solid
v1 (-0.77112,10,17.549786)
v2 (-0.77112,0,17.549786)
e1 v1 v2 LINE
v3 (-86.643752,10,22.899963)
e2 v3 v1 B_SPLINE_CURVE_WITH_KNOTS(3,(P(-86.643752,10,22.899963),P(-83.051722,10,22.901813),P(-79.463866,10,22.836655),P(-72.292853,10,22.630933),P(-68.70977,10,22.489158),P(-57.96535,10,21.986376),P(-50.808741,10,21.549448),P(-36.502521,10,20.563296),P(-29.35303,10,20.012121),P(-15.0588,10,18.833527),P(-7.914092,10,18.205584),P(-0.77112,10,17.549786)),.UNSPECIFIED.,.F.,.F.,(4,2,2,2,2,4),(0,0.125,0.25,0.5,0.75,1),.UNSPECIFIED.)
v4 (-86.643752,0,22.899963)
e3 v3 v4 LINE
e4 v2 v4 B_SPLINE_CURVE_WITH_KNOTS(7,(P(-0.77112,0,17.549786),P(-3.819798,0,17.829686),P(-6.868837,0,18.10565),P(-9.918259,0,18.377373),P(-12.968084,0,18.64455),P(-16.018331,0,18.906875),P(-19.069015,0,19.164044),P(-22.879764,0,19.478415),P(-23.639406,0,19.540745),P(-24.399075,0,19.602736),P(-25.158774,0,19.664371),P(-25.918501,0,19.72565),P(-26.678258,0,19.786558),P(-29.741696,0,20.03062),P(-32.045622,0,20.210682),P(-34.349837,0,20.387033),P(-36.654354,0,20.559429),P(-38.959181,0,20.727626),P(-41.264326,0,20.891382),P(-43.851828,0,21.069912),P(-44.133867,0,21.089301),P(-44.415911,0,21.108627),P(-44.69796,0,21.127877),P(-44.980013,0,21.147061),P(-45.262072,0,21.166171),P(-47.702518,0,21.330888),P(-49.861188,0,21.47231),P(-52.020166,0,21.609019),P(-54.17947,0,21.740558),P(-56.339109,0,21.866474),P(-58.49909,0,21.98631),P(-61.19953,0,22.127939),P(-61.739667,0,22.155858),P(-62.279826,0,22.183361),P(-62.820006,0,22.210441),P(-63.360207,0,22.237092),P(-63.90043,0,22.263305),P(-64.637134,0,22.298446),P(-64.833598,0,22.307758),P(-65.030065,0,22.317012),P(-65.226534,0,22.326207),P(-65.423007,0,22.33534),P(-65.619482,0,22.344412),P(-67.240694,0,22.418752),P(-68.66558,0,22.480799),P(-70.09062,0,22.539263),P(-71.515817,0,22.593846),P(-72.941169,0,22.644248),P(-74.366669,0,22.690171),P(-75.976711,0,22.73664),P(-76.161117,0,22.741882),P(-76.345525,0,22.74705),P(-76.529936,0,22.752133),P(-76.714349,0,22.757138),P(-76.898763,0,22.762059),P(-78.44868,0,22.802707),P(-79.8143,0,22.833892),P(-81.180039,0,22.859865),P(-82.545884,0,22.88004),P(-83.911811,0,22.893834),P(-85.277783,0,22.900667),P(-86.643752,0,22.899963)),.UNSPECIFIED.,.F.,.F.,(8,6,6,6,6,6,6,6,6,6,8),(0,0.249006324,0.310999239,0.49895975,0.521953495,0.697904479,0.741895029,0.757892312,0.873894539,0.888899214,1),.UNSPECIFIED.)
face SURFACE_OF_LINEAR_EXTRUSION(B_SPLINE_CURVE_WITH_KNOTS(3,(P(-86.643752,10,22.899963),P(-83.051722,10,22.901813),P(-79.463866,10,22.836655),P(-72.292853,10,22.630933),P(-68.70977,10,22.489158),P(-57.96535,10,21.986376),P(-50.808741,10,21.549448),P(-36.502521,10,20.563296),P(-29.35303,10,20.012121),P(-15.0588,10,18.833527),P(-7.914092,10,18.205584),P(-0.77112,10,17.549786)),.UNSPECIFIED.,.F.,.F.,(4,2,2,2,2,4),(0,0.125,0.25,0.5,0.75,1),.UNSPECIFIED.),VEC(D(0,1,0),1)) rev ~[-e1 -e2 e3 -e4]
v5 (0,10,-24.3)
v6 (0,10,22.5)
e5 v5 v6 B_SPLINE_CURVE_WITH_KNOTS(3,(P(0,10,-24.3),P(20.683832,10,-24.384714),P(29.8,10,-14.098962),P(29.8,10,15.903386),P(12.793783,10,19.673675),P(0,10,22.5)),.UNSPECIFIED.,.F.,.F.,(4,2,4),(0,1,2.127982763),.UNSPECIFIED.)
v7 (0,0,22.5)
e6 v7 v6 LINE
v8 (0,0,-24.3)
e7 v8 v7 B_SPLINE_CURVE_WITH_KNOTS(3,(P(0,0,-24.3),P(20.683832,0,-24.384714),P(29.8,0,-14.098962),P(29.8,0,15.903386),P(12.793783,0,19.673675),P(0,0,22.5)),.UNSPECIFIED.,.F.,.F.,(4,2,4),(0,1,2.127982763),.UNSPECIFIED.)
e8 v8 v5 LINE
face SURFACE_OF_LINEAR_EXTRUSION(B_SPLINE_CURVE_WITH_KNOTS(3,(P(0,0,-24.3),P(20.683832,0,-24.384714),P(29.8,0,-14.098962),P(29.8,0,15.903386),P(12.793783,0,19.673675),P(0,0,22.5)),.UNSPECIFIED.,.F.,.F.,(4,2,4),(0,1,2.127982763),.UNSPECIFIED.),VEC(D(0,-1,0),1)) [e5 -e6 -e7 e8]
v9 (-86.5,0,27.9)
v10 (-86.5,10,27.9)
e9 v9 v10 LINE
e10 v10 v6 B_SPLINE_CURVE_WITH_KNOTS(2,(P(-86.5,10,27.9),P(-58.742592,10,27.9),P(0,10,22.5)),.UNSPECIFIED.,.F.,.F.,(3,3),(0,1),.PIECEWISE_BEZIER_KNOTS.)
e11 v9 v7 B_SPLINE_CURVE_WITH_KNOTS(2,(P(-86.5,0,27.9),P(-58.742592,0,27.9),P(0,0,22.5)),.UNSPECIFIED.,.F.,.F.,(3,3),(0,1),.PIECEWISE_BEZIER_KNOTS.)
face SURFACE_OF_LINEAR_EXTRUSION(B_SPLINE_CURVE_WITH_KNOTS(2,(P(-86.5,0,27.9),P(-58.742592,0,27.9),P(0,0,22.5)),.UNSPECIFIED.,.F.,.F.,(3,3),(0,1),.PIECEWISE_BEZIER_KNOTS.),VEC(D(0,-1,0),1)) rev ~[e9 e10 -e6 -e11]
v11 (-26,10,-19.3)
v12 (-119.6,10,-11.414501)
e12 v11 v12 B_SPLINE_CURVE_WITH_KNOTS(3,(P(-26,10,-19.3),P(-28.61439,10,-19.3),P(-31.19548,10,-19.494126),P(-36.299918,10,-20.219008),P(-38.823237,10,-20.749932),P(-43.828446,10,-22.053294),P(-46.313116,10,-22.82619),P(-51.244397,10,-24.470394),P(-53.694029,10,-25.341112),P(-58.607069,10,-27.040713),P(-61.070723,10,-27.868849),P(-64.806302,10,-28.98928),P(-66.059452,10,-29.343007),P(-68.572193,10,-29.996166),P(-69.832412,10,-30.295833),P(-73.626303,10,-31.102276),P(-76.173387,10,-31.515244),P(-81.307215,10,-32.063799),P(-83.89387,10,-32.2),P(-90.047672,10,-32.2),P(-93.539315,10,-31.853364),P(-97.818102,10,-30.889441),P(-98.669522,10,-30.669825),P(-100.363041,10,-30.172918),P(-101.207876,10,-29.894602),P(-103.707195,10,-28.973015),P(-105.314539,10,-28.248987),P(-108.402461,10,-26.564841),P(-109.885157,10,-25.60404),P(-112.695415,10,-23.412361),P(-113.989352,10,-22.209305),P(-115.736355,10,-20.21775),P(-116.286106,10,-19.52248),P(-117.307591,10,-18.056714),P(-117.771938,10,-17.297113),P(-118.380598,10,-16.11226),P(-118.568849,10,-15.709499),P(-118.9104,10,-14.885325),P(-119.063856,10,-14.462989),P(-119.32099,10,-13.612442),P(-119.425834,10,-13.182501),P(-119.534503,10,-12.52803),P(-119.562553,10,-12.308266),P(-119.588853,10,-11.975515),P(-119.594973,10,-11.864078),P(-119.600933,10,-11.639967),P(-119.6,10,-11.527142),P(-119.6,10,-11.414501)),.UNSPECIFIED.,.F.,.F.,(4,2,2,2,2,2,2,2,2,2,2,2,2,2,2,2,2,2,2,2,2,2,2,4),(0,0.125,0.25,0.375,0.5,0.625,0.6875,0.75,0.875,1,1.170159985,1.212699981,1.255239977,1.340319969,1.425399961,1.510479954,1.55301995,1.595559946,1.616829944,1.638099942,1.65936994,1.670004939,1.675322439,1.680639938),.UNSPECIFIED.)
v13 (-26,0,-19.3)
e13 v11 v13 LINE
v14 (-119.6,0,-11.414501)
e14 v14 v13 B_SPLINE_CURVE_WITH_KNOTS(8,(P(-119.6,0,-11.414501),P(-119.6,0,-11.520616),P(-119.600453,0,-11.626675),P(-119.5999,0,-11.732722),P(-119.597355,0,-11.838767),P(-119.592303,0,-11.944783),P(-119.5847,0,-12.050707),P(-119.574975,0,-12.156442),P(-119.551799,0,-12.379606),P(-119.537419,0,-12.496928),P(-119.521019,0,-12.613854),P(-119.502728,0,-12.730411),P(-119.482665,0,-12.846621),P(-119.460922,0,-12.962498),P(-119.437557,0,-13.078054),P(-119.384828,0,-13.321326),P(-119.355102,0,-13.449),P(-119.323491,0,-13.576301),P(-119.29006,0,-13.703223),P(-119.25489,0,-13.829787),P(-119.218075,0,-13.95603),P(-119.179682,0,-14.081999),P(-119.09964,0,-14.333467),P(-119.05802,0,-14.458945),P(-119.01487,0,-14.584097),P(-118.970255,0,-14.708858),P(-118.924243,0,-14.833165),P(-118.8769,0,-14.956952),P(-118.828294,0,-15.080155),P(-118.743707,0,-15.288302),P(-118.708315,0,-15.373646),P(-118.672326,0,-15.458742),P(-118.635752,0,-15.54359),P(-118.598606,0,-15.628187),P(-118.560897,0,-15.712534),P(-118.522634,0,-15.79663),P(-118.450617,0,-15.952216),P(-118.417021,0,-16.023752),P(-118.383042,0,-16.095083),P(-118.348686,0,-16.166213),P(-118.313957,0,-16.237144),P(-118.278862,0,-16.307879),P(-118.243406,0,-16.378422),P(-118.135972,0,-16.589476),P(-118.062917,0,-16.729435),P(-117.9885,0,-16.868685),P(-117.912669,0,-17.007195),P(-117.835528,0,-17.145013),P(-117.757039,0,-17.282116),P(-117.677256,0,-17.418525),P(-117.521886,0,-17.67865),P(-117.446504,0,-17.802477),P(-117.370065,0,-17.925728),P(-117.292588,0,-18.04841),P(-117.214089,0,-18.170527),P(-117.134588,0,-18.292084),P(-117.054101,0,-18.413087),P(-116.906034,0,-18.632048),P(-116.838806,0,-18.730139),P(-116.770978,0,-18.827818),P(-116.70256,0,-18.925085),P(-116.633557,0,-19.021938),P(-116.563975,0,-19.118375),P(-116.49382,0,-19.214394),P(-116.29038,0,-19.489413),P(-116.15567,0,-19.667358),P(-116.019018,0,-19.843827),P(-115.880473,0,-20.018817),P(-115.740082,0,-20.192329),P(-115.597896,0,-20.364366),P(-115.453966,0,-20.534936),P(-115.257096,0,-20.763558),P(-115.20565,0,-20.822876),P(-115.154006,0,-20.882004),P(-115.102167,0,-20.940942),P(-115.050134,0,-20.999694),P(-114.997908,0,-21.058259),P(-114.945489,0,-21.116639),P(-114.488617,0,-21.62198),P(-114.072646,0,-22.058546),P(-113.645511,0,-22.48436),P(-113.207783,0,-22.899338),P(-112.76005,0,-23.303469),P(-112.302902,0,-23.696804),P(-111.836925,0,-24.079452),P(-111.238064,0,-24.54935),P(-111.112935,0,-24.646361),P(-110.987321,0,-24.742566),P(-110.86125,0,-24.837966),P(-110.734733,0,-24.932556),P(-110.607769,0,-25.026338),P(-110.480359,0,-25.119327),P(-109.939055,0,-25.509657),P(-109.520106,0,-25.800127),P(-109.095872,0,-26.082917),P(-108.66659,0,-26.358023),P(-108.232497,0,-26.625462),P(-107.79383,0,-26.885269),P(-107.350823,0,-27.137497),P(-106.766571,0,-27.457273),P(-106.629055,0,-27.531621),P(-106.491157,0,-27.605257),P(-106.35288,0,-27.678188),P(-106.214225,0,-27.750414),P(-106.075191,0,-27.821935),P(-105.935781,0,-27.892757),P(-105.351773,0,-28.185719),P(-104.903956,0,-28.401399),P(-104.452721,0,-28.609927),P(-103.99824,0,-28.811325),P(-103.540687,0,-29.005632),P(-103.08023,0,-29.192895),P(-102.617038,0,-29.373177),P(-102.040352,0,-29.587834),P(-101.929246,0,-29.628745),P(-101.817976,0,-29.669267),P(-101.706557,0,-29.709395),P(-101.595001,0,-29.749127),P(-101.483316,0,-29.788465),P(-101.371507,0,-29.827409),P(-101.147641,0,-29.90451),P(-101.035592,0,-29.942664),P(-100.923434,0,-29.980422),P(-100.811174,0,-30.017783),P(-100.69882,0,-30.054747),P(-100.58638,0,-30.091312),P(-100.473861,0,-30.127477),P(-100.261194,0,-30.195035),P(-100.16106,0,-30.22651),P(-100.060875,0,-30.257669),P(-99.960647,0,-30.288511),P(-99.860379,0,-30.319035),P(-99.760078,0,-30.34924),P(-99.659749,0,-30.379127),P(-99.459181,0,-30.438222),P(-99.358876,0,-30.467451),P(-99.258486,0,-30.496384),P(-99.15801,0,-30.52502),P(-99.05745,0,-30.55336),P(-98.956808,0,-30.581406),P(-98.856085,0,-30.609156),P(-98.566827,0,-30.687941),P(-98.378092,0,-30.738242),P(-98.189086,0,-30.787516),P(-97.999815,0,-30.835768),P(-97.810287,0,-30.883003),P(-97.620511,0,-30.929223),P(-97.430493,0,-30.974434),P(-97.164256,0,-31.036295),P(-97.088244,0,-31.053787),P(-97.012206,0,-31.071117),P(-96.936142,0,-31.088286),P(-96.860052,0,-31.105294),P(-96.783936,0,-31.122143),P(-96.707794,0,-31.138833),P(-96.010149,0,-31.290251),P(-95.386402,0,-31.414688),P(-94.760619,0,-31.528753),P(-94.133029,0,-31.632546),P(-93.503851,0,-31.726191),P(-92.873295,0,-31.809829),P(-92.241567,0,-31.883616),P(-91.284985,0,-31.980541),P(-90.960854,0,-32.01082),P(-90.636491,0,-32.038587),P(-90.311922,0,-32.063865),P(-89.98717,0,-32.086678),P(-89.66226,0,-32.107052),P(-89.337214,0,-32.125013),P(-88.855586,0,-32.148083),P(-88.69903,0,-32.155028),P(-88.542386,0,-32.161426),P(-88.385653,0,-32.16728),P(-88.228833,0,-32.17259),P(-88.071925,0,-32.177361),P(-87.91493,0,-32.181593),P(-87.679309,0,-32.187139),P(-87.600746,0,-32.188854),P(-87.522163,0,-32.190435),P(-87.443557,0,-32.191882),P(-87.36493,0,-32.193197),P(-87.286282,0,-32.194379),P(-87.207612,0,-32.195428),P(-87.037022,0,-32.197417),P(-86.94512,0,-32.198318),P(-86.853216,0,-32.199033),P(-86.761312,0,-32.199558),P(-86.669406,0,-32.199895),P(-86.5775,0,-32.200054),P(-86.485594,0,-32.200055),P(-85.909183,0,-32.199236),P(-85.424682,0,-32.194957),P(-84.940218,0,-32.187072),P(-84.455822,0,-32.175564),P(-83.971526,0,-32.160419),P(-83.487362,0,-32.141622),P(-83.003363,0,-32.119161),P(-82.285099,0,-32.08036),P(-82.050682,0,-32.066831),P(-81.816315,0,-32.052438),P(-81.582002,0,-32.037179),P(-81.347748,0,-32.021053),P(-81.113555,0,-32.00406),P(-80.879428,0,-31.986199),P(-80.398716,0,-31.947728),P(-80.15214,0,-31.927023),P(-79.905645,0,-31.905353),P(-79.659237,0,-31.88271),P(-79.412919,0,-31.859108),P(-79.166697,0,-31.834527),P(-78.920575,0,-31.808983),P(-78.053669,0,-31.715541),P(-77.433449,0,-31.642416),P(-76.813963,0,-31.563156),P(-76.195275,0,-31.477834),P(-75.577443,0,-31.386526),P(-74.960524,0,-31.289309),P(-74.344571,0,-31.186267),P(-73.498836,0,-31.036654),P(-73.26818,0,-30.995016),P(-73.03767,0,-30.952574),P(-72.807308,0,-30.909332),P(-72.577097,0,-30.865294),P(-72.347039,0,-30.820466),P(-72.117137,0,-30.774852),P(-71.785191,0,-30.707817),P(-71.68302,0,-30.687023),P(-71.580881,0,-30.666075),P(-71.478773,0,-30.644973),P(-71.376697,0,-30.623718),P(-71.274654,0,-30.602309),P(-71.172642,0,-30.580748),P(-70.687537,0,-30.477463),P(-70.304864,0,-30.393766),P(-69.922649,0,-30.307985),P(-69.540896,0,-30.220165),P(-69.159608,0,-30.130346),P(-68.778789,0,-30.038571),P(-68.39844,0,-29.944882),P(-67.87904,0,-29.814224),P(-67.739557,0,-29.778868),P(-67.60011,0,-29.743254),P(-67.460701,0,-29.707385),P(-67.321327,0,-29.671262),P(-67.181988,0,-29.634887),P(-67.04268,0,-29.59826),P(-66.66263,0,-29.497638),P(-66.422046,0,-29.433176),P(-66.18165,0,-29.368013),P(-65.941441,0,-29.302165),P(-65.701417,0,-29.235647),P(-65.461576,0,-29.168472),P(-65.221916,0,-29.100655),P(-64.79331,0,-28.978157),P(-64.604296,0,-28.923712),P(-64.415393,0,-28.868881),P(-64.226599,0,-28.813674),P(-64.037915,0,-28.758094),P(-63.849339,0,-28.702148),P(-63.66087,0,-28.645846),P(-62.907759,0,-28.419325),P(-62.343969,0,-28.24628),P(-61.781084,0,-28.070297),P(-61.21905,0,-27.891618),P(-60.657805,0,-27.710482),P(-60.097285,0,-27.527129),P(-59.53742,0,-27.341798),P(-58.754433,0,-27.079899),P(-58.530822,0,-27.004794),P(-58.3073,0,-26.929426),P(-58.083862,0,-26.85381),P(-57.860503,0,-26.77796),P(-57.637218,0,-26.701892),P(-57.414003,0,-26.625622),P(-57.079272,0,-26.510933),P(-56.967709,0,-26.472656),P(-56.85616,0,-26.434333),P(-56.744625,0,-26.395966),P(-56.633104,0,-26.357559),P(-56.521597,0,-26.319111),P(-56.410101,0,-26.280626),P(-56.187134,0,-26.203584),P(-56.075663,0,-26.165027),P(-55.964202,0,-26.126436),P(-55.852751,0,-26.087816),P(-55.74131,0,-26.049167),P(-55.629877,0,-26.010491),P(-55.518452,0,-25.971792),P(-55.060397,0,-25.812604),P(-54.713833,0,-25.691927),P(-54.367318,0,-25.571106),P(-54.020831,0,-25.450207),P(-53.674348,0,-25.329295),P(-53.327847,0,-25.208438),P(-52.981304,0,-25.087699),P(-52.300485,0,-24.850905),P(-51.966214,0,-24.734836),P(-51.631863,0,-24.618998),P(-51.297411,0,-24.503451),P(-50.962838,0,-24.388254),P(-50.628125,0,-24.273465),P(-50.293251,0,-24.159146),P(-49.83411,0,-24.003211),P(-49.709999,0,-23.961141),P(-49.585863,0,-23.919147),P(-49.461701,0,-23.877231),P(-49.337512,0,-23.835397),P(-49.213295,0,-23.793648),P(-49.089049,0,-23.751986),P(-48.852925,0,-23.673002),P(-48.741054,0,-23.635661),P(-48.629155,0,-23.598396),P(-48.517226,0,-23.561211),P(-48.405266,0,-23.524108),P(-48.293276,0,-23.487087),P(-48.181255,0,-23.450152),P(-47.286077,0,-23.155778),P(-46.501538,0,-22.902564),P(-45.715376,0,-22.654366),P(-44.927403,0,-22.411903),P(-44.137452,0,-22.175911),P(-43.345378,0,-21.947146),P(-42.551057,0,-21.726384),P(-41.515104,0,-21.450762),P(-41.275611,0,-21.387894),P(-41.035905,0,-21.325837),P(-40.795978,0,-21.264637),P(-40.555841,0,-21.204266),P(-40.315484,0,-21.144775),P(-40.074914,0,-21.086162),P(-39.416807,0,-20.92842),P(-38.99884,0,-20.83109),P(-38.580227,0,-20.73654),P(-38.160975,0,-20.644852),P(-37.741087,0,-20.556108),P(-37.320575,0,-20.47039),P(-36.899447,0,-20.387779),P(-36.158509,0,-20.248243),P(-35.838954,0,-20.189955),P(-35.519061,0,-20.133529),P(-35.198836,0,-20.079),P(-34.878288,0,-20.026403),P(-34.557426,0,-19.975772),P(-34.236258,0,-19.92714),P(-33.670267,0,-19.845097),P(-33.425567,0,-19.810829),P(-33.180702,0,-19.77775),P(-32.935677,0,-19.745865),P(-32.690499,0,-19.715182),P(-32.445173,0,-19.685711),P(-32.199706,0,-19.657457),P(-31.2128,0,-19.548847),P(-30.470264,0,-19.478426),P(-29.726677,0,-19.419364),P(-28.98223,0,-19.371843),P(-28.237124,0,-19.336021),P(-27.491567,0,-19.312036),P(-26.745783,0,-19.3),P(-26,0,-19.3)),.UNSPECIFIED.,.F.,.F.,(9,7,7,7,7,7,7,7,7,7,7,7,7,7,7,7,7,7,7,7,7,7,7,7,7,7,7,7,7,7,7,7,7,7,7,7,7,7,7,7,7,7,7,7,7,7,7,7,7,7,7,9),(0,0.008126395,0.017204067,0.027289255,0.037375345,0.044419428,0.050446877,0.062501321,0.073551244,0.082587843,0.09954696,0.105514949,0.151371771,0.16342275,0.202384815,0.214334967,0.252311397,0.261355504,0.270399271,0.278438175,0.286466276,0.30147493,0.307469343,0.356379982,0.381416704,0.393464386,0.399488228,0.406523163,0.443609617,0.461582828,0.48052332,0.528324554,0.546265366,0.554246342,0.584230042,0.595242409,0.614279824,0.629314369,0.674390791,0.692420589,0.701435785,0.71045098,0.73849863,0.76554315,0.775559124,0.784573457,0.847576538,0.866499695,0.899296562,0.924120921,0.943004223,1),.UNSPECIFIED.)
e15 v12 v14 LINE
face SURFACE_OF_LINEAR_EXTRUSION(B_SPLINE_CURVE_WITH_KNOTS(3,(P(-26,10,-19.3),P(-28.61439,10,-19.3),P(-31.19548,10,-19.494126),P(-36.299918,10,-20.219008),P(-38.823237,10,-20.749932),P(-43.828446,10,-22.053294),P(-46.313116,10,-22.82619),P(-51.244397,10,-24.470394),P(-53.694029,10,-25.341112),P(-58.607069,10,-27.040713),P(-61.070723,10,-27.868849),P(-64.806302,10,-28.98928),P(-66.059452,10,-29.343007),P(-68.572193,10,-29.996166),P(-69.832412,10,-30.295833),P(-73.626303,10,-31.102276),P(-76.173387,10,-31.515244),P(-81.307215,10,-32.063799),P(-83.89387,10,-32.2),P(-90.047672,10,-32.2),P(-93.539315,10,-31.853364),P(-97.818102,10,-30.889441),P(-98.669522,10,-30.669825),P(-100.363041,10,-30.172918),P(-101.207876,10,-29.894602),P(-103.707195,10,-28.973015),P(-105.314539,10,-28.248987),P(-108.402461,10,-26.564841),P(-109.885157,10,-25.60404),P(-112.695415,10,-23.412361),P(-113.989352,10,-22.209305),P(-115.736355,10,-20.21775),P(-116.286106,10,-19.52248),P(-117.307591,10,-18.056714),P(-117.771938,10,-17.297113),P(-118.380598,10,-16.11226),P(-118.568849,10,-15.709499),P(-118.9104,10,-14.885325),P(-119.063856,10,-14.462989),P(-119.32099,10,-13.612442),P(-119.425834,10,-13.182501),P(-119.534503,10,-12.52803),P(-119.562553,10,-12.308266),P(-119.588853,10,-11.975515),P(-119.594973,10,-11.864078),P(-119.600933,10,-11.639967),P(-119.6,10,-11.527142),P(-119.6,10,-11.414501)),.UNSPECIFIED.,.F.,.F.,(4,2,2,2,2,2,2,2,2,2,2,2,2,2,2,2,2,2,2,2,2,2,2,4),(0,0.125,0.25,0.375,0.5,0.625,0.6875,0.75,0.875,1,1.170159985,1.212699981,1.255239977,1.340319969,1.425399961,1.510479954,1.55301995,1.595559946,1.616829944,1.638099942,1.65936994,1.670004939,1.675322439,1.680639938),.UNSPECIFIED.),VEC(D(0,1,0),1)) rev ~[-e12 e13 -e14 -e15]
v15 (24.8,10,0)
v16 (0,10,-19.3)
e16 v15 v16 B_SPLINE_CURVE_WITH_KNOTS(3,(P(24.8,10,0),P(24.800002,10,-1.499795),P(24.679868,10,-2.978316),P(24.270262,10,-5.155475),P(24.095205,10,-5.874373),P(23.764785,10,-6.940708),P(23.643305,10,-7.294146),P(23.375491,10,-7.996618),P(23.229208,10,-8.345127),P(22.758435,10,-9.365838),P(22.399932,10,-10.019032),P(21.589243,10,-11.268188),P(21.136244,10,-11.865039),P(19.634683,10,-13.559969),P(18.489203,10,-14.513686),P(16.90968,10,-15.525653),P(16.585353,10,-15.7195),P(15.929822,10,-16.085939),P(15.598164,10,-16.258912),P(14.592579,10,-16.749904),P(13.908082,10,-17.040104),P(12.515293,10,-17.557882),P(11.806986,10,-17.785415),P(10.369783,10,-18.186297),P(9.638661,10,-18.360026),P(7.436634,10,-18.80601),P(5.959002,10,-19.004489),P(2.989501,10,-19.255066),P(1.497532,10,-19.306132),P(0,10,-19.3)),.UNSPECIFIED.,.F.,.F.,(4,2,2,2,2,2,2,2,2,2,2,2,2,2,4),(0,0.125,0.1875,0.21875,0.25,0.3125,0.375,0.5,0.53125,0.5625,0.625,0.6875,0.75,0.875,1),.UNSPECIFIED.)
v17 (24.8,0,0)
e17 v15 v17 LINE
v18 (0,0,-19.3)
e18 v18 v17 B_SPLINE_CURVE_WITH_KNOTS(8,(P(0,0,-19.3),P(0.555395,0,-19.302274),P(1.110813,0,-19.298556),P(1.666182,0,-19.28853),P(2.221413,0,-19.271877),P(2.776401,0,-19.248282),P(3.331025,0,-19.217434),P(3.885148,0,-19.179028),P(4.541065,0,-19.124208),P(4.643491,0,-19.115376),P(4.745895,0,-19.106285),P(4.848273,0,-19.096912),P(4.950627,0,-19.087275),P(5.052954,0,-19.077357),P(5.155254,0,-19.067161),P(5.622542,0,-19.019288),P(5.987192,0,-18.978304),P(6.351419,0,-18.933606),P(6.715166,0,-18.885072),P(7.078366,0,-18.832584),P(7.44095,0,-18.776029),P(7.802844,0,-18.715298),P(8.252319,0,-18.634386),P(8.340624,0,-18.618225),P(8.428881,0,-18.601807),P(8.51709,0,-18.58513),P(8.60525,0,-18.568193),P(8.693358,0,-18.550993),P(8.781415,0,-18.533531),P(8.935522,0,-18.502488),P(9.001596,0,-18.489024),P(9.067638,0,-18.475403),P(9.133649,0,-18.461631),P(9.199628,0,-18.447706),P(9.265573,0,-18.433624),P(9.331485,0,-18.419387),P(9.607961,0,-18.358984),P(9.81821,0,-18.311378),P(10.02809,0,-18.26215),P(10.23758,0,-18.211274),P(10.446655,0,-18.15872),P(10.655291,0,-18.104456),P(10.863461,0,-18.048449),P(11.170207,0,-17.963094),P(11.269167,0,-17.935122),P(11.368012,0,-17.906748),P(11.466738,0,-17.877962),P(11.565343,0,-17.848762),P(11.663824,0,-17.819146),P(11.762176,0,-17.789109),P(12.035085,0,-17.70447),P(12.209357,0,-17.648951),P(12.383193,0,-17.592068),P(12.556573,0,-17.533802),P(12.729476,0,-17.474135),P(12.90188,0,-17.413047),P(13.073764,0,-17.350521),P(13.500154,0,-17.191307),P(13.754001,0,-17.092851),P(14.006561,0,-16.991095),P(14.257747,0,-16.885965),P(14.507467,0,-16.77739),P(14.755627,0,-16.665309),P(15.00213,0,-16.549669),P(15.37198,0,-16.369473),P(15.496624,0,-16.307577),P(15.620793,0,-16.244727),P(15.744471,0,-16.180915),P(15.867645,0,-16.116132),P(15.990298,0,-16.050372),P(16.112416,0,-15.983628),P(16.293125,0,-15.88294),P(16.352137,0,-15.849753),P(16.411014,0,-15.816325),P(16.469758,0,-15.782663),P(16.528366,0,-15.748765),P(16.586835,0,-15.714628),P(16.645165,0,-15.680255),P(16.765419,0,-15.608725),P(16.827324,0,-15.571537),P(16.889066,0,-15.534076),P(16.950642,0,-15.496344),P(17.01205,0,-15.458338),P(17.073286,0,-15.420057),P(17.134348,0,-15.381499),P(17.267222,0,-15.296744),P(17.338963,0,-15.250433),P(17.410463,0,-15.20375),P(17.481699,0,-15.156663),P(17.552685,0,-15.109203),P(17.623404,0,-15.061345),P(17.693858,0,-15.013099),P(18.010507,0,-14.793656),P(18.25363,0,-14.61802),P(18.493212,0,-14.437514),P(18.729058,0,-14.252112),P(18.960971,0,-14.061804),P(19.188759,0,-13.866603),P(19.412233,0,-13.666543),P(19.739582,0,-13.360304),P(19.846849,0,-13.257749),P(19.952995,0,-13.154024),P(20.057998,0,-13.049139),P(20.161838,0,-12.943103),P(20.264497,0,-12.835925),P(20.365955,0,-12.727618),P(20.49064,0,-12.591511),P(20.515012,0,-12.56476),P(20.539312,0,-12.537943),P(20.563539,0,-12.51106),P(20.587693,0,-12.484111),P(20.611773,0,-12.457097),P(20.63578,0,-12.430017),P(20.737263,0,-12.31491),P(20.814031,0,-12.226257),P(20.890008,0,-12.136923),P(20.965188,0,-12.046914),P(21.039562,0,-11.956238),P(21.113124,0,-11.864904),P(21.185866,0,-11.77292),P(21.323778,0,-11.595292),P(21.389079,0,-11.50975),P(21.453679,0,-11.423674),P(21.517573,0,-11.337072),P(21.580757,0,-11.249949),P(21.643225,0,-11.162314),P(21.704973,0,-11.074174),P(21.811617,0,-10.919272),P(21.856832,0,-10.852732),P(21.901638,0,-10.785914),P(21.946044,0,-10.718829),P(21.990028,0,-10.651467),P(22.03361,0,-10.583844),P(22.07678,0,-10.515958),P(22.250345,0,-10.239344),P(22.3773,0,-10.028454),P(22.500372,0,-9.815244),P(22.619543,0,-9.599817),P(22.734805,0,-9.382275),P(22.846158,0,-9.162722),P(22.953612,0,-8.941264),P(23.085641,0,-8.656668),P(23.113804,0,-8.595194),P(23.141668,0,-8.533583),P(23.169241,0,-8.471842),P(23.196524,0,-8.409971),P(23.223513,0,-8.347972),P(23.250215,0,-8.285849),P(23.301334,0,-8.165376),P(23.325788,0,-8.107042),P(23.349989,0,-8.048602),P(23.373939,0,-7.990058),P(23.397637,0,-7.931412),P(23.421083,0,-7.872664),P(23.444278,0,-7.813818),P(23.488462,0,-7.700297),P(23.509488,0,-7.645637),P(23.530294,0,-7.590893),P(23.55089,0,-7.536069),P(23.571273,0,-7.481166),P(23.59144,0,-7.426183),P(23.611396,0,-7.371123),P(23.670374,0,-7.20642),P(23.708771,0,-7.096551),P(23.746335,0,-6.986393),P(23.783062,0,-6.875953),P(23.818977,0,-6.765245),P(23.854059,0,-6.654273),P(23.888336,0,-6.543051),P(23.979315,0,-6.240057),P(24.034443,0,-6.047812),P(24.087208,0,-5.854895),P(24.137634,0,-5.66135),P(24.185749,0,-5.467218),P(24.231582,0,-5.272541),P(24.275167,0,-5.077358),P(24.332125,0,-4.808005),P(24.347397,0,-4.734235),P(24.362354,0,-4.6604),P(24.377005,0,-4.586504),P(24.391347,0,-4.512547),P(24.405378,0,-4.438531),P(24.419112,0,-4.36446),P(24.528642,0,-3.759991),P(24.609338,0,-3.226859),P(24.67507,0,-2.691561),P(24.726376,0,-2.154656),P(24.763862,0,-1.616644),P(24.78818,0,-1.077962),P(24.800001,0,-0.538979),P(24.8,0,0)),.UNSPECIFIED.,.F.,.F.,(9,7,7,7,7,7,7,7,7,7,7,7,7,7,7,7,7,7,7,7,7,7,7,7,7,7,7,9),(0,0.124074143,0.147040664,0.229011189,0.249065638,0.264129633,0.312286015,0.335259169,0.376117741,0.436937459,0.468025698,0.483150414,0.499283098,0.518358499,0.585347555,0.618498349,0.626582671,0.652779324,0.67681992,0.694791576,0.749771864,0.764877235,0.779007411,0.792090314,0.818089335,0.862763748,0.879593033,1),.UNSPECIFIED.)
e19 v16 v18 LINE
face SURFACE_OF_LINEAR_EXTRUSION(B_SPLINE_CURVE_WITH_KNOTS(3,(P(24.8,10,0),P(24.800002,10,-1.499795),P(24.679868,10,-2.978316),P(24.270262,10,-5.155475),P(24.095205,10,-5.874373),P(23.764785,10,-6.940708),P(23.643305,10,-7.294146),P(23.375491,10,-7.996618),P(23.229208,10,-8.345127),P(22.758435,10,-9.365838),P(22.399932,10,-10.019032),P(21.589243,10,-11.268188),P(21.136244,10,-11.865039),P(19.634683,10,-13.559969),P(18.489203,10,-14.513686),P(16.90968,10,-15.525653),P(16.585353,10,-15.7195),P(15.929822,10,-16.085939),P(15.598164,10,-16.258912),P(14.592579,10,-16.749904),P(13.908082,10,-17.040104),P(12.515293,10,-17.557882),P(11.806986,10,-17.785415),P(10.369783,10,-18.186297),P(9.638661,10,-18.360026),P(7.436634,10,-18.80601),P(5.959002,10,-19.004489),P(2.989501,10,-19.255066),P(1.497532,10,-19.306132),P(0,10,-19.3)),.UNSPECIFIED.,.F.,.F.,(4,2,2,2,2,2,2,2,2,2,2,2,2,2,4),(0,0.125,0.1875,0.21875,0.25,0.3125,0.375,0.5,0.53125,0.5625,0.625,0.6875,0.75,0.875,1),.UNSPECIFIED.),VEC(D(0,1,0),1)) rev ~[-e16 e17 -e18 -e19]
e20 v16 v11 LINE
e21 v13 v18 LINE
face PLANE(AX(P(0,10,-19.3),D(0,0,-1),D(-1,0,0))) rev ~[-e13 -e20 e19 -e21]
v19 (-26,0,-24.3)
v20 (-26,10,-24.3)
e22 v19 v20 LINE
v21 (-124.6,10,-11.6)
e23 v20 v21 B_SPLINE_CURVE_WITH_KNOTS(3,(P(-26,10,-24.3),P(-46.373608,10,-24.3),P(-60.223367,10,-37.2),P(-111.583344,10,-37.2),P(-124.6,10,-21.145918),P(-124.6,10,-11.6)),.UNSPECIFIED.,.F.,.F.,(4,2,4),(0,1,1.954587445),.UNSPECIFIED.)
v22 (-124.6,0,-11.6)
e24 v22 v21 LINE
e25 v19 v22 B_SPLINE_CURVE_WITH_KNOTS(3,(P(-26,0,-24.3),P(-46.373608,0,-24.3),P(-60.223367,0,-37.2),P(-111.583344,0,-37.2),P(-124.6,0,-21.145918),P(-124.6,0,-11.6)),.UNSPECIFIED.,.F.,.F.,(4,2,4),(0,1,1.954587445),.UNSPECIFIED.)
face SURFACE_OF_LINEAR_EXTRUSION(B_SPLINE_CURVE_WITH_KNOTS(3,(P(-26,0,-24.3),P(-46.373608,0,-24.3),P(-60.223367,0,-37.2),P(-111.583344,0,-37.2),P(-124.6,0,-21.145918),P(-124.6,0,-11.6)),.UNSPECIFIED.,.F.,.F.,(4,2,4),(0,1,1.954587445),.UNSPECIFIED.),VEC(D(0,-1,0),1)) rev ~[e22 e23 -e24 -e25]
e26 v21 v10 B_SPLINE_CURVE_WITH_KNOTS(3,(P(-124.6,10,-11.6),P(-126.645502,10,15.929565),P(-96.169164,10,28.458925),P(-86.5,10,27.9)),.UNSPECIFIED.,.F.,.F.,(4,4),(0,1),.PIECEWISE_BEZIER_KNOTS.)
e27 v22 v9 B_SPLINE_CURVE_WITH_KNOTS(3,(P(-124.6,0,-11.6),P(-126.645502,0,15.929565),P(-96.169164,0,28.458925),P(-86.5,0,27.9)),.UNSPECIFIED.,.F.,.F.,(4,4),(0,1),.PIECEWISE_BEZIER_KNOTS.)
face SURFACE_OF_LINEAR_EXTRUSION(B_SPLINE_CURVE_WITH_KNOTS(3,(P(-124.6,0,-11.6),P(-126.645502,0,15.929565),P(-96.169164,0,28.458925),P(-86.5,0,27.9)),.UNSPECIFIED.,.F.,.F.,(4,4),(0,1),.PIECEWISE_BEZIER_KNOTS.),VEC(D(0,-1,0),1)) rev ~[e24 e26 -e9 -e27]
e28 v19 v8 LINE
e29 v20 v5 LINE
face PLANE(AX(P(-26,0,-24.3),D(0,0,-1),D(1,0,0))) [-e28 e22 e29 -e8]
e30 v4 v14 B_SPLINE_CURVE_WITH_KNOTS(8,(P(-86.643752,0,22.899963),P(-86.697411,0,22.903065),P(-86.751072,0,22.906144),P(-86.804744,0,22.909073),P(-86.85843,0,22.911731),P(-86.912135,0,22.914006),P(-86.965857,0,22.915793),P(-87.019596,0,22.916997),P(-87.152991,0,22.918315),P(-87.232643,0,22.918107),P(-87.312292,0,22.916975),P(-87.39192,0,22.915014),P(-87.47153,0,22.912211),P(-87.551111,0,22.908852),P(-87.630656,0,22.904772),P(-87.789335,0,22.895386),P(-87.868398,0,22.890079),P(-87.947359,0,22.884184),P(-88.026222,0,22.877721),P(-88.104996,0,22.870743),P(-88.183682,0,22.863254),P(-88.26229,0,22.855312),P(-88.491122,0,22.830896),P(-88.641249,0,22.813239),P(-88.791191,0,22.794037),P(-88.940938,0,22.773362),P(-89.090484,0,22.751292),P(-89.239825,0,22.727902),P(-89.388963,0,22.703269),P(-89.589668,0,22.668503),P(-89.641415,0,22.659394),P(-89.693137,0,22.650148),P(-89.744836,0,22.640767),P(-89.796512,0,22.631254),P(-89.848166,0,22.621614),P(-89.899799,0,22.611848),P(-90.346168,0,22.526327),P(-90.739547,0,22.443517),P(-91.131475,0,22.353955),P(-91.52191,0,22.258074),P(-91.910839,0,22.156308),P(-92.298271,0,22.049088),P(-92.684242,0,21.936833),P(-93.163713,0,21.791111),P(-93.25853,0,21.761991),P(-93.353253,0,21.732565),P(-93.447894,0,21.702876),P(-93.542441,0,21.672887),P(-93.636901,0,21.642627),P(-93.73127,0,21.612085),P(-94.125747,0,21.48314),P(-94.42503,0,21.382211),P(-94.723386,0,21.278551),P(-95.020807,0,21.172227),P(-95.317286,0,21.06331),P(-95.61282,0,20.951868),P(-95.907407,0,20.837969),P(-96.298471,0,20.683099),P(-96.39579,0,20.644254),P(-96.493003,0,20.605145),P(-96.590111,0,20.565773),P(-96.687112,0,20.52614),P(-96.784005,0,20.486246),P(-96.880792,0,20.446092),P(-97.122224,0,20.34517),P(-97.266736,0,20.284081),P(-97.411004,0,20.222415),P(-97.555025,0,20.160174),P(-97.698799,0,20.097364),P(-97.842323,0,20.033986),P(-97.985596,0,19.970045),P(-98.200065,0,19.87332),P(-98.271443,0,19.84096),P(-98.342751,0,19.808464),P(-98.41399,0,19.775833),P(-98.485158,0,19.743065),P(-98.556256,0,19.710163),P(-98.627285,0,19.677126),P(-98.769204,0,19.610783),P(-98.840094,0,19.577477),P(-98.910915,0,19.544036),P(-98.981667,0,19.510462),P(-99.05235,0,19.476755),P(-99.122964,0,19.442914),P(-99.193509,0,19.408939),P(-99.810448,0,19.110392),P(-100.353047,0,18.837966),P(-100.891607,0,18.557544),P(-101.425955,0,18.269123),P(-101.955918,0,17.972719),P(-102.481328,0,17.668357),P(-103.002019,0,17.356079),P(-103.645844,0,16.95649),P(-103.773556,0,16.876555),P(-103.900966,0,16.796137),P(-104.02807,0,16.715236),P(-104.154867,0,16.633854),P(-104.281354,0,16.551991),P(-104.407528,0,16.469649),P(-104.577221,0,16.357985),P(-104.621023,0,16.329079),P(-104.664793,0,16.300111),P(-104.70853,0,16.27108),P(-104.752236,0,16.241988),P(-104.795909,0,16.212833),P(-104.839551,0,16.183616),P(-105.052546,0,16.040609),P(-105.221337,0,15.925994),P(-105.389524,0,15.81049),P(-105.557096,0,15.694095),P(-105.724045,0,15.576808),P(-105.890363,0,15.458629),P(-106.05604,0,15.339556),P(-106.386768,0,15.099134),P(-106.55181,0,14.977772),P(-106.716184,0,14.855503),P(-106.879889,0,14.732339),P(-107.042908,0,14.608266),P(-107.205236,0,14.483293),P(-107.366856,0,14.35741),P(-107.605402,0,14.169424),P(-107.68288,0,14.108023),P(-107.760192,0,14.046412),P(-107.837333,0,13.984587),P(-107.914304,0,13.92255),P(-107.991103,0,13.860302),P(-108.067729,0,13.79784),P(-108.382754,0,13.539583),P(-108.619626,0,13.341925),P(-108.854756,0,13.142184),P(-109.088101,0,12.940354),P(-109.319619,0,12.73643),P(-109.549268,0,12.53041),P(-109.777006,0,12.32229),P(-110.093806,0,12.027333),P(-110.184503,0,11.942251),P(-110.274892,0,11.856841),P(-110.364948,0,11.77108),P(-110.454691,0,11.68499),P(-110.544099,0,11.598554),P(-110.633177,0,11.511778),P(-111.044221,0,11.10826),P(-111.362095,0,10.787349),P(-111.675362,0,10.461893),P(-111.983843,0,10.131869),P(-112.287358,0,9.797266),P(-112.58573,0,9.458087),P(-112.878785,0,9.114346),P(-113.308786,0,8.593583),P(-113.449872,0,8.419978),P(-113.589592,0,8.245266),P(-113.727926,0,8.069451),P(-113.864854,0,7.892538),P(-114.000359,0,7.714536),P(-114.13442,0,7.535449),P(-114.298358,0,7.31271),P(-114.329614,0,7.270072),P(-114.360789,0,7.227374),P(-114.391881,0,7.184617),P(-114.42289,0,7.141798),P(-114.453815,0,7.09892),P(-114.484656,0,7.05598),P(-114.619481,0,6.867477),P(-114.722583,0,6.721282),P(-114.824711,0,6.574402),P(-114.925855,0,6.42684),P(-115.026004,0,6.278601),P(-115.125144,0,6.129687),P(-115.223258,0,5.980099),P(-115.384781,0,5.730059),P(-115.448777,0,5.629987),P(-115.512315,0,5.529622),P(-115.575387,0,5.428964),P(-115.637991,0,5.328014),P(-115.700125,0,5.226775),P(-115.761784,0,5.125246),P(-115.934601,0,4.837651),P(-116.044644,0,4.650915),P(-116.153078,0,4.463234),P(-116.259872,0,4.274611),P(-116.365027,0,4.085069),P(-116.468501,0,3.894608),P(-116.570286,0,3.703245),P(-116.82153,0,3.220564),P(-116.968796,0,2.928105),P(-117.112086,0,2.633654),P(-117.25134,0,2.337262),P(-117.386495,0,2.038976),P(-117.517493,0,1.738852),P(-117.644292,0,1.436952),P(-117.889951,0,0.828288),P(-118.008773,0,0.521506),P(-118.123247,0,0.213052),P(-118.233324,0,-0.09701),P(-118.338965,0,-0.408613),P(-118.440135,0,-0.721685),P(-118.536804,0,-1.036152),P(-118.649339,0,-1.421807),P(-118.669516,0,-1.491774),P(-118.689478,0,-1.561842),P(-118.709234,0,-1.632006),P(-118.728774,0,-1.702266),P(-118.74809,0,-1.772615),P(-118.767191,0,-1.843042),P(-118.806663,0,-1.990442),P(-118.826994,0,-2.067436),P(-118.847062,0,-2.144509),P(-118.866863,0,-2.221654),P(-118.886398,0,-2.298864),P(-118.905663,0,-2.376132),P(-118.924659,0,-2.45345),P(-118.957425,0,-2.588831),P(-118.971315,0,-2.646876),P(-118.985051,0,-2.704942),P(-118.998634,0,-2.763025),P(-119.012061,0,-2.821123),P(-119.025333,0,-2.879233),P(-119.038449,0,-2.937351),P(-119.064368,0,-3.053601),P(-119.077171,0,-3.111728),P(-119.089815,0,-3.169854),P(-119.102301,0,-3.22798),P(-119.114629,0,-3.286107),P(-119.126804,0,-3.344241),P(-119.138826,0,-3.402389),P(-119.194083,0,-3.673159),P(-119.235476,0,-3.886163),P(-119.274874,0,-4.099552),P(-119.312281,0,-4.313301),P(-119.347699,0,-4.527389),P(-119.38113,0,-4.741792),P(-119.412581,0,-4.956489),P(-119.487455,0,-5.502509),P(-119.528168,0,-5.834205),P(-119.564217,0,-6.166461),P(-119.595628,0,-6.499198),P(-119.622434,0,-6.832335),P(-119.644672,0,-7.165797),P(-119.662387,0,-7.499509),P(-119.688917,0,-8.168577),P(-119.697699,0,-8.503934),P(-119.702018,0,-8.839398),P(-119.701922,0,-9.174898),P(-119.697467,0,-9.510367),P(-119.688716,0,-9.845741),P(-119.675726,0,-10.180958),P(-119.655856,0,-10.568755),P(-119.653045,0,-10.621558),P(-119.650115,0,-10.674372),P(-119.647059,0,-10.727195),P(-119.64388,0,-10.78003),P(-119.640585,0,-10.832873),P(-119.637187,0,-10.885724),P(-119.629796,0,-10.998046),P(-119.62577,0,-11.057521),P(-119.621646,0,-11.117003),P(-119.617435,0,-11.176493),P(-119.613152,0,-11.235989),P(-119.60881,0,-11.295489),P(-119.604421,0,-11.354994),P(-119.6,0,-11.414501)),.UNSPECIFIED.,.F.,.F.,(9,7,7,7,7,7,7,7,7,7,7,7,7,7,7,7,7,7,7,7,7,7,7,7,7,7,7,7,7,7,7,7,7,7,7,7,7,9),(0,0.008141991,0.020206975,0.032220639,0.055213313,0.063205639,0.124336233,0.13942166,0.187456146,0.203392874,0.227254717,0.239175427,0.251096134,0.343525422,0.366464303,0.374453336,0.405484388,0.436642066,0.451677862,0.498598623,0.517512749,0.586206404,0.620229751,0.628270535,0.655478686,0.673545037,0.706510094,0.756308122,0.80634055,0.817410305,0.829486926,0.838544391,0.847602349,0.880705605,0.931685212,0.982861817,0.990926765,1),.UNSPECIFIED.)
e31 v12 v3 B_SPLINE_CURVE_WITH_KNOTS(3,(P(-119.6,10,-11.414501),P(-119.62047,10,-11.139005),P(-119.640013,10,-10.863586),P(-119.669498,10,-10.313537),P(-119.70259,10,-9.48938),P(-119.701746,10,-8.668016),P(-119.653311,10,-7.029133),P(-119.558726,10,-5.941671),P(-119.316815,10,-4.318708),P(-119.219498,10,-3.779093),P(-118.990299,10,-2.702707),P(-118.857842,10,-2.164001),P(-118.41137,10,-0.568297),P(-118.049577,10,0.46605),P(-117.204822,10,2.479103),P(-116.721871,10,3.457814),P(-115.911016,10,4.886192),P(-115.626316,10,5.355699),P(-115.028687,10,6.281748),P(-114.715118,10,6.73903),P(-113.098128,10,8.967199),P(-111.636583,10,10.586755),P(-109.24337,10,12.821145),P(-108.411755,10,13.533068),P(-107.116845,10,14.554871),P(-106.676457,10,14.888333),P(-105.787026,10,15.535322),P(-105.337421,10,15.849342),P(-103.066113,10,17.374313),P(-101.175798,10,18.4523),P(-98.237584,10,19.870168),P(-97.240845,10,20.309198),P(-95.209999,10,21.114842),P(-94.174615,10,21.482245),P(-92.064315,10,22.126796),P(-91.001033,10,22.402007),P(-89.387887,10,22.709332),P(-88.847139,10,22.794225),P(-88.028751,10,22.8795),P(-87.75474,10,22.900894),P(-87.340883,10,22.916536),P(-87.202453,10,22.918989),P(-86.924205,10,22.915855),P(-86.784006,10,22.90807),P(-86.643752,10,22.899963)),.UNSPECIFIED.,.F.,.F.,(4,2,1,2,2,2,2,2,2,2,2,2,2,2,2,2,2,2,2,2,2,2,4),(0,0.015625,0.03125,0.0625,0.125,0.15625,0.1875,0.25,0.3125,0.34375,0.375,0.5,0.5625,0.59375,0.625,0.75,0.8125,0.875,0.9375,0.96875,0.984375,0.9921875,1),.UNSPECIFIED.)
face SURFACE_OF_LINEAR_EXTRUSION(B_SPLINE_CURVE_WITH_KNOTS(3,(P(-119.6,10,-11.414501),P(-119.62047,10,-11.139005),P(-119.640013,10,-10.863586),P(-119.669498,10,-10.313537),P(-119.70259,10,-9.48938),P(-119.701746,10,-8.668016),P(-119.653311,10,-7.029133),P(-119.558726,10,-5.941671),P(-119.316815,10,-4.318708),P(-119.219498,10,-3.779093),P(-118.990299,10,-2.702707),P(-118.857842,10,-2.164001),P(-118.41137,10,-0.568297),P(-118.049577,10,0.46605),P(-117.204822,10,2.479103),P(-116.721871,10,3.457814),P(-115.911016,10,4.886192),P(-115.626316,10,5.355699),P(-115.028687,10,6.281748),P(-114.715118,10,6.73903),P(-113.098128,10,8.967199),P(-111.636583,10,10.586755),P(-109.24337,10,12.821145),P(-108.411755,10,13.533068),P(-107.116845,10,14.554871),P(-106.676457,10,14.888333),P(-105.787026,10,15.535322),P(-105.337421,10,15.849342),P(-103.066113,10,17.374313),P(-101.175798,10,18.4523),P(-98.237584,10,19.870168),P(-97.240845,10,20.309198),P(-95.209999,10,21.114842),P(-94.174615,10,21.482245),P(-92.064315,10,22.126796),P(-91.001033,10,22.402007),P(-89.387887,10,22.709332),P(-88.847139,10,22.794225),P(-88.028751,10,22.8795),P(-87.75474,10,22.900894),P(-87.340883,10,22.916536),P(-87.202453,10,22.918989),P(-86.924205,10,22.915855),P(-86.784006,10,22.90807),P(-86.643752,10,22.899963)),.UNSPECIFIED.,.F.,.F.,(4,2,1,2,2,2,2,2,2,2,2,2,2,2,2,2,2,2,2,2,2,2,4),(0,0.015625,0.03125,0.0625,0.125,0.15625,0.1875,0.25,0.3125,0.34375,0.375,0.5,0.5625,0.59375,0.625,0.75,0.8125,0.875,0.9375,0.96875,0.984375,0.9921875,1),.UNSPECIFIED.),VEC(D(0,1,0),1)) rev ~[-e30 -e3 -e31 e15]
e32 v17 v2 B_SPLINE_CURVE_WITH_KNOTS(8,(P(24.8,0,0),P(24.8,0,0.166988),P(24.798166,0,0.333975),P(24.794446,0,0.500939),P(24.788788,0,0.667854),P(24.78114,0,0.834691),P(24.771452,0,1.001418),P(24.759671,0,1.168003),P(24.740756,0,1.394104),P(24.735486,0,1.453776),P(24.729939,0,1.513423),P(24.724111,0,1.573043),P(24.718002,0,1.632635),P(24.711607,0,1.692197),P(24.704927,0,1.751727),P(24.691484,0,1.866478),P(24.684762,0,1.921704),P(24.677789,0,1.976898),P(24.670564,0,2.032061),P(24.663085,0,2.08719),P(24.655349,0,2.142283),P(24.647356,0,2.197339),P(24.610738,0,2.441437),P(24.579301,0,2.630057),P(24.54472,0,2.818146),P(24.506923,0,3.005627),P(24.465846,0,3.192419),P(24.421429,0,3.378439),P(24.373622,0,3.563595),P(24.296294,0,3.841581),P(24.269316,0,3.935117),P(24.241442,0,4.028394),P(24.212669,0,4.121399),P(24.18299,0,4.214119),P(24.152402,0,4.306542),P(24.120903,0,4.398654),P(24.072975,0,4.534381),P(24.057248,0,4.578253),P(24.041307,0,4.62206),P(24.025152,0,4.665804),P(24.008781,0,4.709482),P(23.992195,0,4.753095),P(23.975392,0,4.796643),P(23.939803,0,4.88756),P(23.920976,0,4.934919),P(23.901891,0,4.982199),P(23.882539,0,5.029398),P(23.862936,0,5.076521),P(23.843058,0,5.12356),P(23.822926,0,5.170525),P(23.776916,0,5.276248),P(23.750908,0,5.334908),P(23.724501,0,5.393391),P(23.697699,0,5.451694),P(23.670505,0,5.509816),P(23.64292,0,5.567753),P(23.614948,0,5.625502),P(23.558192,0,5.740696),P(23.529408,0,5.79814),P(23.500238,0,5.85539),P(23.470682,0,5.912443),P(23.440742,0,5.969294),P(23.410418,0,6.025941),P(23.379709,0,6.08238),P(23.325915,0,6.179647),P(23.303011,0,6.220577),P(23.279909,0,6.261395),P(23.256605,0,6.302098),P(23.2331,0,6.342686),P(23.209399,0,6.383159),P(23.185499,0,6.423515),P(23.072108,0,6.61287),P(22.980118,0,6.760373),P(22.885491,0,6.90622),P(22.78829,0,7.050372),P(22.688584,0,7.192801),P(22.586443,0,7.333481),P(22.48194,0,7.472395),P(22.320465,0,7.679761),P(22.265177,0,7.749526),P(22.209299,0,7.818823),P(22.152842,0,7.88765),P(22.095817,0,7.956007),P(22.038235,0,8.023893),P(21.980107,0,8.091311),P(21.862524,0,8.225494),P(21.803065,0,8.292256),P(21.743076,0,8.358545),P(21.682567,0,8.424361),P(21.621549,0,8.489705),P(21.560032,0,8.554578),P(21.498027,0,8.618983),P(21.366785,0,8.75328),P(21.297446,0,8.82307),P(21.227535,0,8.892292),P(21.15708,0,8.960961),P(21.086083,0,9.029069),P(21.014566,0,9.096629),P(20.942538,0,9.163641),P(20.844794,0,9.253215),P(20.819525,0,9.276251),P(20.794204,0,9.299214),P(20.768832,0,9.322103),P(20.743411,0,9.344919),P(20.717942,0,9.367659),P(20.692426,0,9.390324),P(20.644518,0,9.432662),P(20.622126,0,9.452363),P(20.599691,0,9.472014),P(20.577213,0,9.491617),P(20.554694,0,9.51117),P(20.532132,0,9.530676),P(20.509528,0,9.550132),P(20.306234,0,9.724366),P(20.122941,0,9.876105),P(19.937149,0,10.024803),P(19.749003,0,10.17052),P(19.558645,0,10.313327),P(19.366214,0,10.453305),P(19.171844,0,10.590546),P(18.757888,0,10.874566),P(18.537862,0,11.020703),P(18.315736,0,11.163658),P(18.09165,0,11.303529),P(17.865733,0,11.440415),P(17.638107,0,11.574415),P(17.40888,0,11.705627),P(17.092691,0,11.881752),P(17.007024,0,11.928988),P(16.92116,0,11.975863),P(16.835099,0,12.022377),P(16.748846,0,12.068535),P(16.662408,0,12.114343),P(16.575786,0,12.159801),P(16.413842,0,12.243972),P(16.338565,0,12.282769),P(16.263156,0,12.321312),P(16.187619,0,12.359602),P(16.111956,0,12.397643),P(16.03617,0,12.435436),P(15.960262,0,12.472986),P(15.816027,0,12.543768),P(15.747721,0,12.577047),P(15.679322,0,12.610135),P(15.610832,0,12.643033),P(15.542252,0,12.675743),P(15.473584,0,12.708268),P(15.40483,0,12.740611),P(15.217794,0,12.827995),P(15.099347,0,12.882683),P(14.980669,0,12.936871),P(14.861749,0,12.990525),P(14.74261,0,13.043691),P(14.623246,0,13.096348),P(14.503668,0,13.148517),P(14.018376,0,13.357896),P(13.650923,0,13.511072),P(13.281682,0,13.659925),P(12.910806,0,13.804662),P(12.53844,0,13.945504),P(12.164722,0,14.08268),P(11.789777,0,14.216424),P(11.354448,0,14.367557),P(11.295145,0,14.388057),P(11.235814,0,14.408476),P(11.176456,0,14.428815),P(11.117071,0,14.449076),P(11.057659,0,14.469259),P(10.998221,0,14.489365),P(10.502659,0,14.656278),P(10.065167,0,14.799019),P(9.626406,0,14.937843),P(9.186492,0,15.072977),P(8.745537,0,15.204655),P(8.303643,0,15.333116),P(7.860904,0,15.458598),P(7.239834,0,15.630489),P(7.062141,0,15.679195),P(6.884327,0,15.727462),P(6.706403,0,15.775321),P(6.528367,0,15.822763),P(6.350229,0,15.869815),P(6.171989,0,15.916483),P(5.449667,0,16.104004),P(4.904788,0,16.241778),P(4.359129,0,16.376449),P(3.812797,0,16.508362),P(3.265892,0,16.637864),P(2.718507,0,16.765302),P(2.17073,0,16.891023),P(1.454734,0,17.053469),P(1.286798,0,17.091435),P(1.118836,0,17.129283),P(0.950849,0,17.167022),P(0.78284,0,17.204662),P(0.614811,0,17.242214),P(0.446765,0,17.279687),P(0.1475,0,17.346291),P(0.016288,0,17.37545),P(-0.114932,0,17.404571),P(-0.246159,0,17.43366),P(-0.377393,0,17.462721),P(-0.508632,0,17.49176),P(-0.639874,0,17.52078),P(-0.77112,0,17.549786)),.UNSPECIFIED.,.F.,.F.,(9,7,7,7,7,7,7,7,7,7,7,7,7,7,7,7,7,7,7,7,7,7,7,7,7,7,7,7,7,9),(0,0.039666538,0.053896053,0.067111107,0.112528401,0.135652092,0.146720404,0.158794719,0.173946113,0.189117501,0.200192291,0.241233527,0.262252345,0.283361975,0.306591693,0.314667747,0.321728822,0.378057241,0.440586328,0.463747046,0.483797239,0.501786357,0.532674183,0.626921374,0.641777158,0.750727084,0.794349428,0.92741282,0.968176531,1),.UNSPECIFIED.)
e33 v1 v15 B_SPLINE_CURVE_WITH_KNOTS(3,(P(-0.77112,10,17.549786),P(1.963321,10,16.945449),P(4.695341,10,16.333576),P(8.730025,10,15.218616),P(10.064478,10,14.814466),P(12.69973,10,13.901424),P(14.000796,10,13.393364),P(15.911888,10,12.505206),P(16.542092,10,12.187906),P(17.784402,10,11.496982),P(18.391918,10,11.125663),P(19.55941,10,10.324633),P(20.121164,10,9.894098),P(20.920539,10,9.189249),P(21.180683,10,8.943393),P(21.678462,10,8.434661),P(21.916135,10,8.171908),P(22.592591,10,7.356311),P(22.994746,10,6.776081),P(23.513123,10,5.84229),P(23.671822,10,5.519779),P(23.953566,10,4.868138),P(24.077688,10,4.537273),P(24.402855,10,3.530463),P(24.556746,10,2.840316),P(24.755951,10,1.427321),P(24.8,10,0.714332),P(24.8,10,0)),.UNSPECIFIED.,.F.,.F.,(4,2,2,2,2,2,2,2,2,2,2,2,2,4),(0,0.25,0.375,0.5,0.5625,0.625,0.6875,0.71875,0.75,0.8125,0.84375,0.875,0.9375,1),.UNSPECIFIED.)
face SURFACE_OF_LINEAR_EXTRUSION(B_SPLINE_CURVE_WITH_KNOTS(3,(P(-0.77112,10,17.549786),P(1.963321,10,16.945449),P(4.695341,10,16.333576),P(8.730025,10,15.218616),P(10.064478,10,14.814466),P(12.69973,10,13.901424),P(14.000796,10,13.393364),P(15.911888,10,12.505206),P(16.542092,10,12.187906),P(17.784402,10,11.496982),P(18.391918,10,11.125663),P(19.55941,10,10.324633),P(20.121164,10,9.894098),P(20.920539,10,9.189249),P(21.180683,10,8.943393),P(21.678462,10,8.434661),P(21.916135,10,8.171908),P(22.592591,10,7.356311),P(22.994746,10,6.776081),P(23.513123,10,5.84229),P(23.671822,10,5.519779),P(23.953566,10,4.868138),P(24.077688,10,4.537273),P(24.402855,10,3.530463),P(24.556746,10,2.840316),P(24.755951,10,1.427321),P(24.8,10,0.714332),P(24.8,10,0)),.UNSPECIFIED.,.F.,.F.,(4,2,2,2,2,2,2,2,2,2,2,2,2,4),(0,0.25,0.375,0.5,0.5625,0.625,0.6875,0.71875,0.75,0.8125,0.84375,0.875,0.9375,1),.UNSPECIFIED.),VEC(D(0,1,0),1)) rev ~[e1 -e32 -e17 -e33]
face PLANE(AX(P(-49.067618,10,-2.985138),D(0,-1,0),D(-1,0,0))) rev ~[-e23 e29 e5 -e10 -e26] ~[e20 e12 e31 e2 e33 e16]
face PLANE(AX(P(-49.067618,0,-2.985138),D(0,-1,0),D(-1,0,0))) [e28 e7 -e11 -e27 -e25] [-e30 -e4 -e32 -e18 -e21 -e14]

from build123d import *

# Parameters (mm, degrees)
BOSS_EXTRUDE1_DEPTH = 10
CUT_EXTRUDE2_DEPTH  = 131.512395512


with BuildPart() as part:
    # Sketch2 → Boss-Extrude1 (new body)
    with BuildSketch(Plane(origin=(0, 0, 0), x_dir=(1, 0, 0), z_dir=(0, 1, 0))):
        with BuildLine():
            Line((-26, 24.3), (0, 24.3))
            add(Edge.make_bspline(
                [(0, 24.3), (20.683832289, 24.384713811), (29.8, 14.098961604), (29.8, 0)],
                knots=[0, 0, 0, 0, 1, 1, 1, 1], degree=3))
            add(Edge.make_bspline(
                [(29.8, 0), (29.8, -15.903385672), (12.793782652, -19.673675204), (0, -22.5)],
                knots=[0, 0, 0, 0, 1, 1, 1, 1], degree=3))
            add(Edge.make_bspline(
                [(-86.5, -27.9), (-58.742591927, -27.9), (0, -22.5)],
                knots=[0, 0, 0, 1, 1, 1], degree=2))
            add(Edge.make_bspline(
                [(-124.6, 11.6), (-126.645501882, -15.929564791), (-96.169164371, -28.458925346), (-86.5, -27.9)],
                knots=[0, 0, 0, 0, 1, 1, 1, 1], degree=3))
            add(Edge.make_bspline(
                [(-86.5, 37.2), (-111.583343569, 37.2), (-124.6, 21.145918181), (-124.6, 11.6)],
                knots=[0, 0, 0, 0, 1, 1, 1, 1], degree=3))
            add(Edge.make_bspline(
                [(-26, 24.3), (-46.37360759, 24.3), (-60.223367409, 37.2), (-86.5, 37.2)],
                knots=[0, 0, 0, 0, 1, 1, 1, 1], degree=3))
        make_face()
    extrude(amount=BOSS_EXTRUDE1_DEPTH)

    # Sketch5 → Cut-Extrude2 (cut, through all)
    with BuildSketch(Plane(origin=(0, 10, 0), x_dir=(1, 0, 0), z_dir=(0, 1, 0))):
        with BuildLine():
            Line((0, 19.3), (-26, 19.3))
            add(Edge.make_bspline(
                [(-26, 19.3), (-28.614389566, 19.3), (-31.195480065, 19.494126305), (-36.299918034, 20.219008193), (-38.823236595, 20.749932309), (-43.82844627, 22.053293526), (-46.31311575, 22.826190042), (-51.244397222, 24.470393512), (-53.69402913, 25.341112046), (-58.607069123, 27.040712597), (-61.070722849, 27.868848632), (-64.806301572, 28.989279687), (-66.059451522, 29.343006622), (-68.572193461, 29.996166113), (-69.832412317, 30.295833479), (-73.626302931, 31.102275727), (-76.173387066, 31.51524352), (-81.307214737, 32.063798503), (-83.893870441, 32.2), (-86.5, 32.2)],
                knots=[0, 0, 0, 0, 0.125, 0.125, 0.25, 0.25, 0.375, 0.375, 0.5, 0.5, 0.625, 0.625, 0.6875, 0.6875, 0.75, 0.75, 0.875, 0.875, 1, 1, 1, 1], degree=3))
            add(Edge.make_bspline(
                [(-86.5, 32.2), (-90.047671723, 32.2), (-93.539315109, 31.853363621), (-97.818101716, 30.88944061), (-98.669522164, 30.669824618), (-100.363040922, 30.17291839), (-101.207876089, 29.89460231), (-103.707194596, 28.9730152), (-105.314538731, 28.24898707), (-108.402461221, 26.564840966), (-109.885156962, 25.604040465), (-112.695415045, 23.412360835), (-113.989352092, 22.209304545), (-115.736354807, 20.217749989), (-116.286105675, 19.522480074), (-117.307591473, 18.056713662), (-117.771937921, 17.297113036), (-118.380597746, 16.112260348), (-118.568848857, 15.709499136), (-118.910400222, 14.885324985), (-119.063856456, 14.46298862), (-119.32099023, 13.612441675), (-119.425833719, 13.182501201), (-119.534502641, 12.528030347), (-119.56255262, 12.308265558), (-119.588853411, 11.975515189), (-119.594973106, 11.86407762), (-119.600932982, 11.639967141), (-119.6, 11.527142129), (-119.6, 11.414500659)],
                knots=[0, 0, 0, 0, 0.25, 0.25, 0.3125, 0.3125, 0.375, 0.375, 0.5, 0.5, 0.625, 0.625, 0.75, 0.75, 0.8125, 0.8125, 0.875, 0.875, 0.90625, 0.90625, 0.9375, 0.9375, 0.96875, 0.96875, 0.984375, 0.984375, 0.9921875, 0.9921875, 1, 1, 1, 1], degree=3))
            add(Edge.make_bspline(
                [(-119.6, 11.414500659), (-119.620469876, 11.139005048), (-119.640012507, 10.863585734), (-119.66949801, 10.313536999), (-119.702590259, 9.489380197), (-119.701746238, 8.668015761), (-119.653311171, 7.029133356), (-119.558725583, 5.941670929), (-119.316814989, 4.318708201), (-119.219497862, 3.779093122), (-118.990298597, 2.702707063), (-118.857842254, 2.164001324), (-118.411370332, 0.568296748), (-118.049576648, -0.466050211), (-117.204822005, -2.479103419), (-116.721870667, -3.457814087), (-115.911016092, -4.886192051), (-115.626316263, -5.355698602), (-115.028686616, -6.281748331), (-114.715117794, -6.739029825), (-113.098128241, -8.967198862), (-111.636582687, -10.586754888), (-109.243370012, -12.821144966), (-108.411754958, -13.533067597), (-107.116844881, -14.554870601), (-106.676456633, -14.888333255), (-105.787025552, -15.535321816), (-105.337421344, -15.84934205), (-103.066112758, -17.374312871), (-101.175798147, -18.452299517), (-98.237583629, -19.870168351), (-97.240844592, -20.309198302), (-95.209999189, -21.114841784), (-94.174615133, -21.48224539), (-92.064314636, -22.126795927), (-91.001033475, -22.402007075), (-89.387886633, -22.70933152), (-88.84713932, -22.794224632), (-88.028751145, -22.879499568), (-87.754740398, -22.90089357), (-87.340882626, -22.916536257), (-87.202453029, -22.918989427), (-86.924204685, -22.915854968), (-86.784006393, -22.908070411), (-86.64375233, -22.899963035)],
                knots=[0, 0, 0, 0, 0.015625, 0.015625, 0.03125, 0.0625, 0.0625, 0.125, 0.125, 0.15625, 0.15625, 0.1875, 0.1875, 0.25, 0.25, 0.3125, 0.3125, 0.34375, 0.34375, 0.375, 0.375, 0.5, 0.5, 0.5625, 0.5625, 0.59375, 0.59375, 0.625, 0.625, 0.75, 0.75, 0.8125, 0.8125, 0.875, 0.875, 0.9375, 0.9375, 0.96875, 0.96875, 0.984375, 0.984375, 0.9921875, 0.9921875, 1, 1, 1, 1], degree=3))
            add(Edge.make_bspline(
                [(-86.64375233, -22.899963035), (-83.051721737, -22.901813131), (-79.463866007, -22.836654879), (-72.292852573, -22.630933055), (-68.709770334, -22.489158228), (-57.965349536, -21.986375675), (-50.808741052, -21.549448214), (-36.50252062, -20.563295893), (-29.353030187, -20.012120654), (-15.058799553, -18.833526914), (-7.914092044, -18.205583695), (-0.771119947, -17.549786375)],
                knots=[0, 0, 0, 0, 0.125, 0.125, 0.25, 0.25, 0.5, 0.5, 0.75, 0.75, 1, 1, 1, 1], degree=3))
            add(Edge.make_bspline(
                [(-0.771119947, -17.549786375), (1.963321139, -16.94544861), (4.695341149, -16.33357579), (8.730024902, -15.218615637), (10.064478195, -14.814466089), (12.699729823, -13.90142355), (14.000796007, -13.393364173), (15.911888282, -12.505206219), (16.542091865, -12.187905528), (17.784402153, -11.496981701), (18.391917697, -11.125662576), (19.559410174, -10.32463286), (20.121164342, -9.894098151), (20.920538613, -9.18924898), (21.180682911, -8.943393186), (21.678462153, -8.434660622), (21.916135354, -8.171907904), (22.59259098, -7.356311131), (22.994745994, -6.776081028), (23.513123046, -5.842290056), (23.671822244, -5.519779327), (23.953566298, -4.86813842), (24.077688222, -4.537273262), (24.402854637, -3.53046254), (24.556745878, -2.840315617), (24.755950633, -1.42732092), (24.8, -0.714331591), (24.8, 0)],
                knots=[0, 0, 0, 0, 0.25, 0.25, 0.375, 0.375, 0.5, 0.5, 0.5625, 0.5625, 0.625, 0.625, 0.6875, 0.6875, 0.71875, 0.71875, 0.75, 0.75, 0.8125, 0.8125, 0.84375, 0.84375, 0.875, 0.875, 0.9375, 0.9375, 1, 1, 1, 1], degree=3))
            add(Edge.make_bspline(
                [(24.8, 0), (24.800001574, 1.499794527), (24.679867583, 2.978315628), (24.270262238, 5.1554747), (24.095205029, 5.874372955), (23.764785291, 6.940708409), (23.64330548, 7.294145508), (23.375491288, 7.996618496), (23.229208001, 8.345127218), (22.758435322, 9.365838107), (22.399931747, 10.019031745), (21.589242675, 11.268187742), (21.136243882, 11.865038785), (19.63468306, 13.559968632), (18.489202915, 14.513686307), (16.909680401, 15.525653475), (16.58535259, 15.719500417), (15.929822317, 16.085938782), (15.598164332, 16.258912353), (14.592578593, 16.74990385), (13.908081512, 17.040104299), (12.515293354, 17.557881638), (11.806985872, 17.785415353), (10.369782811, 18.186296846), (9.638661479, 18.360025682), (7.436633609, 18.806009812), (5.959001697, 19.004489088), (2.98950105, 19.255065786), (1.497532001, 19.3061318), (0, 19.3)],
                knots=[0, 0, 0, 0, 0.125, 0.125, 0.1875, 0.1875, 0.21875, 0.21875, 0.25, 0.25, 0.3125, 0.3125, 0.375, 0.375, 0.5, 0.5, 0.53125, 0.53125, 0.5625, 0.5625, 0.625, 0.625, 0.6875, 0.6875, 0.75, 0.75, 0.875, 0.875, 1, 1, 1, 1], degree=3))
        make_face()
    extrude(amount=-CUT_EXTRUDE2_DEPTH, mode=Mode.SUBTRACT)


solid = part.part
